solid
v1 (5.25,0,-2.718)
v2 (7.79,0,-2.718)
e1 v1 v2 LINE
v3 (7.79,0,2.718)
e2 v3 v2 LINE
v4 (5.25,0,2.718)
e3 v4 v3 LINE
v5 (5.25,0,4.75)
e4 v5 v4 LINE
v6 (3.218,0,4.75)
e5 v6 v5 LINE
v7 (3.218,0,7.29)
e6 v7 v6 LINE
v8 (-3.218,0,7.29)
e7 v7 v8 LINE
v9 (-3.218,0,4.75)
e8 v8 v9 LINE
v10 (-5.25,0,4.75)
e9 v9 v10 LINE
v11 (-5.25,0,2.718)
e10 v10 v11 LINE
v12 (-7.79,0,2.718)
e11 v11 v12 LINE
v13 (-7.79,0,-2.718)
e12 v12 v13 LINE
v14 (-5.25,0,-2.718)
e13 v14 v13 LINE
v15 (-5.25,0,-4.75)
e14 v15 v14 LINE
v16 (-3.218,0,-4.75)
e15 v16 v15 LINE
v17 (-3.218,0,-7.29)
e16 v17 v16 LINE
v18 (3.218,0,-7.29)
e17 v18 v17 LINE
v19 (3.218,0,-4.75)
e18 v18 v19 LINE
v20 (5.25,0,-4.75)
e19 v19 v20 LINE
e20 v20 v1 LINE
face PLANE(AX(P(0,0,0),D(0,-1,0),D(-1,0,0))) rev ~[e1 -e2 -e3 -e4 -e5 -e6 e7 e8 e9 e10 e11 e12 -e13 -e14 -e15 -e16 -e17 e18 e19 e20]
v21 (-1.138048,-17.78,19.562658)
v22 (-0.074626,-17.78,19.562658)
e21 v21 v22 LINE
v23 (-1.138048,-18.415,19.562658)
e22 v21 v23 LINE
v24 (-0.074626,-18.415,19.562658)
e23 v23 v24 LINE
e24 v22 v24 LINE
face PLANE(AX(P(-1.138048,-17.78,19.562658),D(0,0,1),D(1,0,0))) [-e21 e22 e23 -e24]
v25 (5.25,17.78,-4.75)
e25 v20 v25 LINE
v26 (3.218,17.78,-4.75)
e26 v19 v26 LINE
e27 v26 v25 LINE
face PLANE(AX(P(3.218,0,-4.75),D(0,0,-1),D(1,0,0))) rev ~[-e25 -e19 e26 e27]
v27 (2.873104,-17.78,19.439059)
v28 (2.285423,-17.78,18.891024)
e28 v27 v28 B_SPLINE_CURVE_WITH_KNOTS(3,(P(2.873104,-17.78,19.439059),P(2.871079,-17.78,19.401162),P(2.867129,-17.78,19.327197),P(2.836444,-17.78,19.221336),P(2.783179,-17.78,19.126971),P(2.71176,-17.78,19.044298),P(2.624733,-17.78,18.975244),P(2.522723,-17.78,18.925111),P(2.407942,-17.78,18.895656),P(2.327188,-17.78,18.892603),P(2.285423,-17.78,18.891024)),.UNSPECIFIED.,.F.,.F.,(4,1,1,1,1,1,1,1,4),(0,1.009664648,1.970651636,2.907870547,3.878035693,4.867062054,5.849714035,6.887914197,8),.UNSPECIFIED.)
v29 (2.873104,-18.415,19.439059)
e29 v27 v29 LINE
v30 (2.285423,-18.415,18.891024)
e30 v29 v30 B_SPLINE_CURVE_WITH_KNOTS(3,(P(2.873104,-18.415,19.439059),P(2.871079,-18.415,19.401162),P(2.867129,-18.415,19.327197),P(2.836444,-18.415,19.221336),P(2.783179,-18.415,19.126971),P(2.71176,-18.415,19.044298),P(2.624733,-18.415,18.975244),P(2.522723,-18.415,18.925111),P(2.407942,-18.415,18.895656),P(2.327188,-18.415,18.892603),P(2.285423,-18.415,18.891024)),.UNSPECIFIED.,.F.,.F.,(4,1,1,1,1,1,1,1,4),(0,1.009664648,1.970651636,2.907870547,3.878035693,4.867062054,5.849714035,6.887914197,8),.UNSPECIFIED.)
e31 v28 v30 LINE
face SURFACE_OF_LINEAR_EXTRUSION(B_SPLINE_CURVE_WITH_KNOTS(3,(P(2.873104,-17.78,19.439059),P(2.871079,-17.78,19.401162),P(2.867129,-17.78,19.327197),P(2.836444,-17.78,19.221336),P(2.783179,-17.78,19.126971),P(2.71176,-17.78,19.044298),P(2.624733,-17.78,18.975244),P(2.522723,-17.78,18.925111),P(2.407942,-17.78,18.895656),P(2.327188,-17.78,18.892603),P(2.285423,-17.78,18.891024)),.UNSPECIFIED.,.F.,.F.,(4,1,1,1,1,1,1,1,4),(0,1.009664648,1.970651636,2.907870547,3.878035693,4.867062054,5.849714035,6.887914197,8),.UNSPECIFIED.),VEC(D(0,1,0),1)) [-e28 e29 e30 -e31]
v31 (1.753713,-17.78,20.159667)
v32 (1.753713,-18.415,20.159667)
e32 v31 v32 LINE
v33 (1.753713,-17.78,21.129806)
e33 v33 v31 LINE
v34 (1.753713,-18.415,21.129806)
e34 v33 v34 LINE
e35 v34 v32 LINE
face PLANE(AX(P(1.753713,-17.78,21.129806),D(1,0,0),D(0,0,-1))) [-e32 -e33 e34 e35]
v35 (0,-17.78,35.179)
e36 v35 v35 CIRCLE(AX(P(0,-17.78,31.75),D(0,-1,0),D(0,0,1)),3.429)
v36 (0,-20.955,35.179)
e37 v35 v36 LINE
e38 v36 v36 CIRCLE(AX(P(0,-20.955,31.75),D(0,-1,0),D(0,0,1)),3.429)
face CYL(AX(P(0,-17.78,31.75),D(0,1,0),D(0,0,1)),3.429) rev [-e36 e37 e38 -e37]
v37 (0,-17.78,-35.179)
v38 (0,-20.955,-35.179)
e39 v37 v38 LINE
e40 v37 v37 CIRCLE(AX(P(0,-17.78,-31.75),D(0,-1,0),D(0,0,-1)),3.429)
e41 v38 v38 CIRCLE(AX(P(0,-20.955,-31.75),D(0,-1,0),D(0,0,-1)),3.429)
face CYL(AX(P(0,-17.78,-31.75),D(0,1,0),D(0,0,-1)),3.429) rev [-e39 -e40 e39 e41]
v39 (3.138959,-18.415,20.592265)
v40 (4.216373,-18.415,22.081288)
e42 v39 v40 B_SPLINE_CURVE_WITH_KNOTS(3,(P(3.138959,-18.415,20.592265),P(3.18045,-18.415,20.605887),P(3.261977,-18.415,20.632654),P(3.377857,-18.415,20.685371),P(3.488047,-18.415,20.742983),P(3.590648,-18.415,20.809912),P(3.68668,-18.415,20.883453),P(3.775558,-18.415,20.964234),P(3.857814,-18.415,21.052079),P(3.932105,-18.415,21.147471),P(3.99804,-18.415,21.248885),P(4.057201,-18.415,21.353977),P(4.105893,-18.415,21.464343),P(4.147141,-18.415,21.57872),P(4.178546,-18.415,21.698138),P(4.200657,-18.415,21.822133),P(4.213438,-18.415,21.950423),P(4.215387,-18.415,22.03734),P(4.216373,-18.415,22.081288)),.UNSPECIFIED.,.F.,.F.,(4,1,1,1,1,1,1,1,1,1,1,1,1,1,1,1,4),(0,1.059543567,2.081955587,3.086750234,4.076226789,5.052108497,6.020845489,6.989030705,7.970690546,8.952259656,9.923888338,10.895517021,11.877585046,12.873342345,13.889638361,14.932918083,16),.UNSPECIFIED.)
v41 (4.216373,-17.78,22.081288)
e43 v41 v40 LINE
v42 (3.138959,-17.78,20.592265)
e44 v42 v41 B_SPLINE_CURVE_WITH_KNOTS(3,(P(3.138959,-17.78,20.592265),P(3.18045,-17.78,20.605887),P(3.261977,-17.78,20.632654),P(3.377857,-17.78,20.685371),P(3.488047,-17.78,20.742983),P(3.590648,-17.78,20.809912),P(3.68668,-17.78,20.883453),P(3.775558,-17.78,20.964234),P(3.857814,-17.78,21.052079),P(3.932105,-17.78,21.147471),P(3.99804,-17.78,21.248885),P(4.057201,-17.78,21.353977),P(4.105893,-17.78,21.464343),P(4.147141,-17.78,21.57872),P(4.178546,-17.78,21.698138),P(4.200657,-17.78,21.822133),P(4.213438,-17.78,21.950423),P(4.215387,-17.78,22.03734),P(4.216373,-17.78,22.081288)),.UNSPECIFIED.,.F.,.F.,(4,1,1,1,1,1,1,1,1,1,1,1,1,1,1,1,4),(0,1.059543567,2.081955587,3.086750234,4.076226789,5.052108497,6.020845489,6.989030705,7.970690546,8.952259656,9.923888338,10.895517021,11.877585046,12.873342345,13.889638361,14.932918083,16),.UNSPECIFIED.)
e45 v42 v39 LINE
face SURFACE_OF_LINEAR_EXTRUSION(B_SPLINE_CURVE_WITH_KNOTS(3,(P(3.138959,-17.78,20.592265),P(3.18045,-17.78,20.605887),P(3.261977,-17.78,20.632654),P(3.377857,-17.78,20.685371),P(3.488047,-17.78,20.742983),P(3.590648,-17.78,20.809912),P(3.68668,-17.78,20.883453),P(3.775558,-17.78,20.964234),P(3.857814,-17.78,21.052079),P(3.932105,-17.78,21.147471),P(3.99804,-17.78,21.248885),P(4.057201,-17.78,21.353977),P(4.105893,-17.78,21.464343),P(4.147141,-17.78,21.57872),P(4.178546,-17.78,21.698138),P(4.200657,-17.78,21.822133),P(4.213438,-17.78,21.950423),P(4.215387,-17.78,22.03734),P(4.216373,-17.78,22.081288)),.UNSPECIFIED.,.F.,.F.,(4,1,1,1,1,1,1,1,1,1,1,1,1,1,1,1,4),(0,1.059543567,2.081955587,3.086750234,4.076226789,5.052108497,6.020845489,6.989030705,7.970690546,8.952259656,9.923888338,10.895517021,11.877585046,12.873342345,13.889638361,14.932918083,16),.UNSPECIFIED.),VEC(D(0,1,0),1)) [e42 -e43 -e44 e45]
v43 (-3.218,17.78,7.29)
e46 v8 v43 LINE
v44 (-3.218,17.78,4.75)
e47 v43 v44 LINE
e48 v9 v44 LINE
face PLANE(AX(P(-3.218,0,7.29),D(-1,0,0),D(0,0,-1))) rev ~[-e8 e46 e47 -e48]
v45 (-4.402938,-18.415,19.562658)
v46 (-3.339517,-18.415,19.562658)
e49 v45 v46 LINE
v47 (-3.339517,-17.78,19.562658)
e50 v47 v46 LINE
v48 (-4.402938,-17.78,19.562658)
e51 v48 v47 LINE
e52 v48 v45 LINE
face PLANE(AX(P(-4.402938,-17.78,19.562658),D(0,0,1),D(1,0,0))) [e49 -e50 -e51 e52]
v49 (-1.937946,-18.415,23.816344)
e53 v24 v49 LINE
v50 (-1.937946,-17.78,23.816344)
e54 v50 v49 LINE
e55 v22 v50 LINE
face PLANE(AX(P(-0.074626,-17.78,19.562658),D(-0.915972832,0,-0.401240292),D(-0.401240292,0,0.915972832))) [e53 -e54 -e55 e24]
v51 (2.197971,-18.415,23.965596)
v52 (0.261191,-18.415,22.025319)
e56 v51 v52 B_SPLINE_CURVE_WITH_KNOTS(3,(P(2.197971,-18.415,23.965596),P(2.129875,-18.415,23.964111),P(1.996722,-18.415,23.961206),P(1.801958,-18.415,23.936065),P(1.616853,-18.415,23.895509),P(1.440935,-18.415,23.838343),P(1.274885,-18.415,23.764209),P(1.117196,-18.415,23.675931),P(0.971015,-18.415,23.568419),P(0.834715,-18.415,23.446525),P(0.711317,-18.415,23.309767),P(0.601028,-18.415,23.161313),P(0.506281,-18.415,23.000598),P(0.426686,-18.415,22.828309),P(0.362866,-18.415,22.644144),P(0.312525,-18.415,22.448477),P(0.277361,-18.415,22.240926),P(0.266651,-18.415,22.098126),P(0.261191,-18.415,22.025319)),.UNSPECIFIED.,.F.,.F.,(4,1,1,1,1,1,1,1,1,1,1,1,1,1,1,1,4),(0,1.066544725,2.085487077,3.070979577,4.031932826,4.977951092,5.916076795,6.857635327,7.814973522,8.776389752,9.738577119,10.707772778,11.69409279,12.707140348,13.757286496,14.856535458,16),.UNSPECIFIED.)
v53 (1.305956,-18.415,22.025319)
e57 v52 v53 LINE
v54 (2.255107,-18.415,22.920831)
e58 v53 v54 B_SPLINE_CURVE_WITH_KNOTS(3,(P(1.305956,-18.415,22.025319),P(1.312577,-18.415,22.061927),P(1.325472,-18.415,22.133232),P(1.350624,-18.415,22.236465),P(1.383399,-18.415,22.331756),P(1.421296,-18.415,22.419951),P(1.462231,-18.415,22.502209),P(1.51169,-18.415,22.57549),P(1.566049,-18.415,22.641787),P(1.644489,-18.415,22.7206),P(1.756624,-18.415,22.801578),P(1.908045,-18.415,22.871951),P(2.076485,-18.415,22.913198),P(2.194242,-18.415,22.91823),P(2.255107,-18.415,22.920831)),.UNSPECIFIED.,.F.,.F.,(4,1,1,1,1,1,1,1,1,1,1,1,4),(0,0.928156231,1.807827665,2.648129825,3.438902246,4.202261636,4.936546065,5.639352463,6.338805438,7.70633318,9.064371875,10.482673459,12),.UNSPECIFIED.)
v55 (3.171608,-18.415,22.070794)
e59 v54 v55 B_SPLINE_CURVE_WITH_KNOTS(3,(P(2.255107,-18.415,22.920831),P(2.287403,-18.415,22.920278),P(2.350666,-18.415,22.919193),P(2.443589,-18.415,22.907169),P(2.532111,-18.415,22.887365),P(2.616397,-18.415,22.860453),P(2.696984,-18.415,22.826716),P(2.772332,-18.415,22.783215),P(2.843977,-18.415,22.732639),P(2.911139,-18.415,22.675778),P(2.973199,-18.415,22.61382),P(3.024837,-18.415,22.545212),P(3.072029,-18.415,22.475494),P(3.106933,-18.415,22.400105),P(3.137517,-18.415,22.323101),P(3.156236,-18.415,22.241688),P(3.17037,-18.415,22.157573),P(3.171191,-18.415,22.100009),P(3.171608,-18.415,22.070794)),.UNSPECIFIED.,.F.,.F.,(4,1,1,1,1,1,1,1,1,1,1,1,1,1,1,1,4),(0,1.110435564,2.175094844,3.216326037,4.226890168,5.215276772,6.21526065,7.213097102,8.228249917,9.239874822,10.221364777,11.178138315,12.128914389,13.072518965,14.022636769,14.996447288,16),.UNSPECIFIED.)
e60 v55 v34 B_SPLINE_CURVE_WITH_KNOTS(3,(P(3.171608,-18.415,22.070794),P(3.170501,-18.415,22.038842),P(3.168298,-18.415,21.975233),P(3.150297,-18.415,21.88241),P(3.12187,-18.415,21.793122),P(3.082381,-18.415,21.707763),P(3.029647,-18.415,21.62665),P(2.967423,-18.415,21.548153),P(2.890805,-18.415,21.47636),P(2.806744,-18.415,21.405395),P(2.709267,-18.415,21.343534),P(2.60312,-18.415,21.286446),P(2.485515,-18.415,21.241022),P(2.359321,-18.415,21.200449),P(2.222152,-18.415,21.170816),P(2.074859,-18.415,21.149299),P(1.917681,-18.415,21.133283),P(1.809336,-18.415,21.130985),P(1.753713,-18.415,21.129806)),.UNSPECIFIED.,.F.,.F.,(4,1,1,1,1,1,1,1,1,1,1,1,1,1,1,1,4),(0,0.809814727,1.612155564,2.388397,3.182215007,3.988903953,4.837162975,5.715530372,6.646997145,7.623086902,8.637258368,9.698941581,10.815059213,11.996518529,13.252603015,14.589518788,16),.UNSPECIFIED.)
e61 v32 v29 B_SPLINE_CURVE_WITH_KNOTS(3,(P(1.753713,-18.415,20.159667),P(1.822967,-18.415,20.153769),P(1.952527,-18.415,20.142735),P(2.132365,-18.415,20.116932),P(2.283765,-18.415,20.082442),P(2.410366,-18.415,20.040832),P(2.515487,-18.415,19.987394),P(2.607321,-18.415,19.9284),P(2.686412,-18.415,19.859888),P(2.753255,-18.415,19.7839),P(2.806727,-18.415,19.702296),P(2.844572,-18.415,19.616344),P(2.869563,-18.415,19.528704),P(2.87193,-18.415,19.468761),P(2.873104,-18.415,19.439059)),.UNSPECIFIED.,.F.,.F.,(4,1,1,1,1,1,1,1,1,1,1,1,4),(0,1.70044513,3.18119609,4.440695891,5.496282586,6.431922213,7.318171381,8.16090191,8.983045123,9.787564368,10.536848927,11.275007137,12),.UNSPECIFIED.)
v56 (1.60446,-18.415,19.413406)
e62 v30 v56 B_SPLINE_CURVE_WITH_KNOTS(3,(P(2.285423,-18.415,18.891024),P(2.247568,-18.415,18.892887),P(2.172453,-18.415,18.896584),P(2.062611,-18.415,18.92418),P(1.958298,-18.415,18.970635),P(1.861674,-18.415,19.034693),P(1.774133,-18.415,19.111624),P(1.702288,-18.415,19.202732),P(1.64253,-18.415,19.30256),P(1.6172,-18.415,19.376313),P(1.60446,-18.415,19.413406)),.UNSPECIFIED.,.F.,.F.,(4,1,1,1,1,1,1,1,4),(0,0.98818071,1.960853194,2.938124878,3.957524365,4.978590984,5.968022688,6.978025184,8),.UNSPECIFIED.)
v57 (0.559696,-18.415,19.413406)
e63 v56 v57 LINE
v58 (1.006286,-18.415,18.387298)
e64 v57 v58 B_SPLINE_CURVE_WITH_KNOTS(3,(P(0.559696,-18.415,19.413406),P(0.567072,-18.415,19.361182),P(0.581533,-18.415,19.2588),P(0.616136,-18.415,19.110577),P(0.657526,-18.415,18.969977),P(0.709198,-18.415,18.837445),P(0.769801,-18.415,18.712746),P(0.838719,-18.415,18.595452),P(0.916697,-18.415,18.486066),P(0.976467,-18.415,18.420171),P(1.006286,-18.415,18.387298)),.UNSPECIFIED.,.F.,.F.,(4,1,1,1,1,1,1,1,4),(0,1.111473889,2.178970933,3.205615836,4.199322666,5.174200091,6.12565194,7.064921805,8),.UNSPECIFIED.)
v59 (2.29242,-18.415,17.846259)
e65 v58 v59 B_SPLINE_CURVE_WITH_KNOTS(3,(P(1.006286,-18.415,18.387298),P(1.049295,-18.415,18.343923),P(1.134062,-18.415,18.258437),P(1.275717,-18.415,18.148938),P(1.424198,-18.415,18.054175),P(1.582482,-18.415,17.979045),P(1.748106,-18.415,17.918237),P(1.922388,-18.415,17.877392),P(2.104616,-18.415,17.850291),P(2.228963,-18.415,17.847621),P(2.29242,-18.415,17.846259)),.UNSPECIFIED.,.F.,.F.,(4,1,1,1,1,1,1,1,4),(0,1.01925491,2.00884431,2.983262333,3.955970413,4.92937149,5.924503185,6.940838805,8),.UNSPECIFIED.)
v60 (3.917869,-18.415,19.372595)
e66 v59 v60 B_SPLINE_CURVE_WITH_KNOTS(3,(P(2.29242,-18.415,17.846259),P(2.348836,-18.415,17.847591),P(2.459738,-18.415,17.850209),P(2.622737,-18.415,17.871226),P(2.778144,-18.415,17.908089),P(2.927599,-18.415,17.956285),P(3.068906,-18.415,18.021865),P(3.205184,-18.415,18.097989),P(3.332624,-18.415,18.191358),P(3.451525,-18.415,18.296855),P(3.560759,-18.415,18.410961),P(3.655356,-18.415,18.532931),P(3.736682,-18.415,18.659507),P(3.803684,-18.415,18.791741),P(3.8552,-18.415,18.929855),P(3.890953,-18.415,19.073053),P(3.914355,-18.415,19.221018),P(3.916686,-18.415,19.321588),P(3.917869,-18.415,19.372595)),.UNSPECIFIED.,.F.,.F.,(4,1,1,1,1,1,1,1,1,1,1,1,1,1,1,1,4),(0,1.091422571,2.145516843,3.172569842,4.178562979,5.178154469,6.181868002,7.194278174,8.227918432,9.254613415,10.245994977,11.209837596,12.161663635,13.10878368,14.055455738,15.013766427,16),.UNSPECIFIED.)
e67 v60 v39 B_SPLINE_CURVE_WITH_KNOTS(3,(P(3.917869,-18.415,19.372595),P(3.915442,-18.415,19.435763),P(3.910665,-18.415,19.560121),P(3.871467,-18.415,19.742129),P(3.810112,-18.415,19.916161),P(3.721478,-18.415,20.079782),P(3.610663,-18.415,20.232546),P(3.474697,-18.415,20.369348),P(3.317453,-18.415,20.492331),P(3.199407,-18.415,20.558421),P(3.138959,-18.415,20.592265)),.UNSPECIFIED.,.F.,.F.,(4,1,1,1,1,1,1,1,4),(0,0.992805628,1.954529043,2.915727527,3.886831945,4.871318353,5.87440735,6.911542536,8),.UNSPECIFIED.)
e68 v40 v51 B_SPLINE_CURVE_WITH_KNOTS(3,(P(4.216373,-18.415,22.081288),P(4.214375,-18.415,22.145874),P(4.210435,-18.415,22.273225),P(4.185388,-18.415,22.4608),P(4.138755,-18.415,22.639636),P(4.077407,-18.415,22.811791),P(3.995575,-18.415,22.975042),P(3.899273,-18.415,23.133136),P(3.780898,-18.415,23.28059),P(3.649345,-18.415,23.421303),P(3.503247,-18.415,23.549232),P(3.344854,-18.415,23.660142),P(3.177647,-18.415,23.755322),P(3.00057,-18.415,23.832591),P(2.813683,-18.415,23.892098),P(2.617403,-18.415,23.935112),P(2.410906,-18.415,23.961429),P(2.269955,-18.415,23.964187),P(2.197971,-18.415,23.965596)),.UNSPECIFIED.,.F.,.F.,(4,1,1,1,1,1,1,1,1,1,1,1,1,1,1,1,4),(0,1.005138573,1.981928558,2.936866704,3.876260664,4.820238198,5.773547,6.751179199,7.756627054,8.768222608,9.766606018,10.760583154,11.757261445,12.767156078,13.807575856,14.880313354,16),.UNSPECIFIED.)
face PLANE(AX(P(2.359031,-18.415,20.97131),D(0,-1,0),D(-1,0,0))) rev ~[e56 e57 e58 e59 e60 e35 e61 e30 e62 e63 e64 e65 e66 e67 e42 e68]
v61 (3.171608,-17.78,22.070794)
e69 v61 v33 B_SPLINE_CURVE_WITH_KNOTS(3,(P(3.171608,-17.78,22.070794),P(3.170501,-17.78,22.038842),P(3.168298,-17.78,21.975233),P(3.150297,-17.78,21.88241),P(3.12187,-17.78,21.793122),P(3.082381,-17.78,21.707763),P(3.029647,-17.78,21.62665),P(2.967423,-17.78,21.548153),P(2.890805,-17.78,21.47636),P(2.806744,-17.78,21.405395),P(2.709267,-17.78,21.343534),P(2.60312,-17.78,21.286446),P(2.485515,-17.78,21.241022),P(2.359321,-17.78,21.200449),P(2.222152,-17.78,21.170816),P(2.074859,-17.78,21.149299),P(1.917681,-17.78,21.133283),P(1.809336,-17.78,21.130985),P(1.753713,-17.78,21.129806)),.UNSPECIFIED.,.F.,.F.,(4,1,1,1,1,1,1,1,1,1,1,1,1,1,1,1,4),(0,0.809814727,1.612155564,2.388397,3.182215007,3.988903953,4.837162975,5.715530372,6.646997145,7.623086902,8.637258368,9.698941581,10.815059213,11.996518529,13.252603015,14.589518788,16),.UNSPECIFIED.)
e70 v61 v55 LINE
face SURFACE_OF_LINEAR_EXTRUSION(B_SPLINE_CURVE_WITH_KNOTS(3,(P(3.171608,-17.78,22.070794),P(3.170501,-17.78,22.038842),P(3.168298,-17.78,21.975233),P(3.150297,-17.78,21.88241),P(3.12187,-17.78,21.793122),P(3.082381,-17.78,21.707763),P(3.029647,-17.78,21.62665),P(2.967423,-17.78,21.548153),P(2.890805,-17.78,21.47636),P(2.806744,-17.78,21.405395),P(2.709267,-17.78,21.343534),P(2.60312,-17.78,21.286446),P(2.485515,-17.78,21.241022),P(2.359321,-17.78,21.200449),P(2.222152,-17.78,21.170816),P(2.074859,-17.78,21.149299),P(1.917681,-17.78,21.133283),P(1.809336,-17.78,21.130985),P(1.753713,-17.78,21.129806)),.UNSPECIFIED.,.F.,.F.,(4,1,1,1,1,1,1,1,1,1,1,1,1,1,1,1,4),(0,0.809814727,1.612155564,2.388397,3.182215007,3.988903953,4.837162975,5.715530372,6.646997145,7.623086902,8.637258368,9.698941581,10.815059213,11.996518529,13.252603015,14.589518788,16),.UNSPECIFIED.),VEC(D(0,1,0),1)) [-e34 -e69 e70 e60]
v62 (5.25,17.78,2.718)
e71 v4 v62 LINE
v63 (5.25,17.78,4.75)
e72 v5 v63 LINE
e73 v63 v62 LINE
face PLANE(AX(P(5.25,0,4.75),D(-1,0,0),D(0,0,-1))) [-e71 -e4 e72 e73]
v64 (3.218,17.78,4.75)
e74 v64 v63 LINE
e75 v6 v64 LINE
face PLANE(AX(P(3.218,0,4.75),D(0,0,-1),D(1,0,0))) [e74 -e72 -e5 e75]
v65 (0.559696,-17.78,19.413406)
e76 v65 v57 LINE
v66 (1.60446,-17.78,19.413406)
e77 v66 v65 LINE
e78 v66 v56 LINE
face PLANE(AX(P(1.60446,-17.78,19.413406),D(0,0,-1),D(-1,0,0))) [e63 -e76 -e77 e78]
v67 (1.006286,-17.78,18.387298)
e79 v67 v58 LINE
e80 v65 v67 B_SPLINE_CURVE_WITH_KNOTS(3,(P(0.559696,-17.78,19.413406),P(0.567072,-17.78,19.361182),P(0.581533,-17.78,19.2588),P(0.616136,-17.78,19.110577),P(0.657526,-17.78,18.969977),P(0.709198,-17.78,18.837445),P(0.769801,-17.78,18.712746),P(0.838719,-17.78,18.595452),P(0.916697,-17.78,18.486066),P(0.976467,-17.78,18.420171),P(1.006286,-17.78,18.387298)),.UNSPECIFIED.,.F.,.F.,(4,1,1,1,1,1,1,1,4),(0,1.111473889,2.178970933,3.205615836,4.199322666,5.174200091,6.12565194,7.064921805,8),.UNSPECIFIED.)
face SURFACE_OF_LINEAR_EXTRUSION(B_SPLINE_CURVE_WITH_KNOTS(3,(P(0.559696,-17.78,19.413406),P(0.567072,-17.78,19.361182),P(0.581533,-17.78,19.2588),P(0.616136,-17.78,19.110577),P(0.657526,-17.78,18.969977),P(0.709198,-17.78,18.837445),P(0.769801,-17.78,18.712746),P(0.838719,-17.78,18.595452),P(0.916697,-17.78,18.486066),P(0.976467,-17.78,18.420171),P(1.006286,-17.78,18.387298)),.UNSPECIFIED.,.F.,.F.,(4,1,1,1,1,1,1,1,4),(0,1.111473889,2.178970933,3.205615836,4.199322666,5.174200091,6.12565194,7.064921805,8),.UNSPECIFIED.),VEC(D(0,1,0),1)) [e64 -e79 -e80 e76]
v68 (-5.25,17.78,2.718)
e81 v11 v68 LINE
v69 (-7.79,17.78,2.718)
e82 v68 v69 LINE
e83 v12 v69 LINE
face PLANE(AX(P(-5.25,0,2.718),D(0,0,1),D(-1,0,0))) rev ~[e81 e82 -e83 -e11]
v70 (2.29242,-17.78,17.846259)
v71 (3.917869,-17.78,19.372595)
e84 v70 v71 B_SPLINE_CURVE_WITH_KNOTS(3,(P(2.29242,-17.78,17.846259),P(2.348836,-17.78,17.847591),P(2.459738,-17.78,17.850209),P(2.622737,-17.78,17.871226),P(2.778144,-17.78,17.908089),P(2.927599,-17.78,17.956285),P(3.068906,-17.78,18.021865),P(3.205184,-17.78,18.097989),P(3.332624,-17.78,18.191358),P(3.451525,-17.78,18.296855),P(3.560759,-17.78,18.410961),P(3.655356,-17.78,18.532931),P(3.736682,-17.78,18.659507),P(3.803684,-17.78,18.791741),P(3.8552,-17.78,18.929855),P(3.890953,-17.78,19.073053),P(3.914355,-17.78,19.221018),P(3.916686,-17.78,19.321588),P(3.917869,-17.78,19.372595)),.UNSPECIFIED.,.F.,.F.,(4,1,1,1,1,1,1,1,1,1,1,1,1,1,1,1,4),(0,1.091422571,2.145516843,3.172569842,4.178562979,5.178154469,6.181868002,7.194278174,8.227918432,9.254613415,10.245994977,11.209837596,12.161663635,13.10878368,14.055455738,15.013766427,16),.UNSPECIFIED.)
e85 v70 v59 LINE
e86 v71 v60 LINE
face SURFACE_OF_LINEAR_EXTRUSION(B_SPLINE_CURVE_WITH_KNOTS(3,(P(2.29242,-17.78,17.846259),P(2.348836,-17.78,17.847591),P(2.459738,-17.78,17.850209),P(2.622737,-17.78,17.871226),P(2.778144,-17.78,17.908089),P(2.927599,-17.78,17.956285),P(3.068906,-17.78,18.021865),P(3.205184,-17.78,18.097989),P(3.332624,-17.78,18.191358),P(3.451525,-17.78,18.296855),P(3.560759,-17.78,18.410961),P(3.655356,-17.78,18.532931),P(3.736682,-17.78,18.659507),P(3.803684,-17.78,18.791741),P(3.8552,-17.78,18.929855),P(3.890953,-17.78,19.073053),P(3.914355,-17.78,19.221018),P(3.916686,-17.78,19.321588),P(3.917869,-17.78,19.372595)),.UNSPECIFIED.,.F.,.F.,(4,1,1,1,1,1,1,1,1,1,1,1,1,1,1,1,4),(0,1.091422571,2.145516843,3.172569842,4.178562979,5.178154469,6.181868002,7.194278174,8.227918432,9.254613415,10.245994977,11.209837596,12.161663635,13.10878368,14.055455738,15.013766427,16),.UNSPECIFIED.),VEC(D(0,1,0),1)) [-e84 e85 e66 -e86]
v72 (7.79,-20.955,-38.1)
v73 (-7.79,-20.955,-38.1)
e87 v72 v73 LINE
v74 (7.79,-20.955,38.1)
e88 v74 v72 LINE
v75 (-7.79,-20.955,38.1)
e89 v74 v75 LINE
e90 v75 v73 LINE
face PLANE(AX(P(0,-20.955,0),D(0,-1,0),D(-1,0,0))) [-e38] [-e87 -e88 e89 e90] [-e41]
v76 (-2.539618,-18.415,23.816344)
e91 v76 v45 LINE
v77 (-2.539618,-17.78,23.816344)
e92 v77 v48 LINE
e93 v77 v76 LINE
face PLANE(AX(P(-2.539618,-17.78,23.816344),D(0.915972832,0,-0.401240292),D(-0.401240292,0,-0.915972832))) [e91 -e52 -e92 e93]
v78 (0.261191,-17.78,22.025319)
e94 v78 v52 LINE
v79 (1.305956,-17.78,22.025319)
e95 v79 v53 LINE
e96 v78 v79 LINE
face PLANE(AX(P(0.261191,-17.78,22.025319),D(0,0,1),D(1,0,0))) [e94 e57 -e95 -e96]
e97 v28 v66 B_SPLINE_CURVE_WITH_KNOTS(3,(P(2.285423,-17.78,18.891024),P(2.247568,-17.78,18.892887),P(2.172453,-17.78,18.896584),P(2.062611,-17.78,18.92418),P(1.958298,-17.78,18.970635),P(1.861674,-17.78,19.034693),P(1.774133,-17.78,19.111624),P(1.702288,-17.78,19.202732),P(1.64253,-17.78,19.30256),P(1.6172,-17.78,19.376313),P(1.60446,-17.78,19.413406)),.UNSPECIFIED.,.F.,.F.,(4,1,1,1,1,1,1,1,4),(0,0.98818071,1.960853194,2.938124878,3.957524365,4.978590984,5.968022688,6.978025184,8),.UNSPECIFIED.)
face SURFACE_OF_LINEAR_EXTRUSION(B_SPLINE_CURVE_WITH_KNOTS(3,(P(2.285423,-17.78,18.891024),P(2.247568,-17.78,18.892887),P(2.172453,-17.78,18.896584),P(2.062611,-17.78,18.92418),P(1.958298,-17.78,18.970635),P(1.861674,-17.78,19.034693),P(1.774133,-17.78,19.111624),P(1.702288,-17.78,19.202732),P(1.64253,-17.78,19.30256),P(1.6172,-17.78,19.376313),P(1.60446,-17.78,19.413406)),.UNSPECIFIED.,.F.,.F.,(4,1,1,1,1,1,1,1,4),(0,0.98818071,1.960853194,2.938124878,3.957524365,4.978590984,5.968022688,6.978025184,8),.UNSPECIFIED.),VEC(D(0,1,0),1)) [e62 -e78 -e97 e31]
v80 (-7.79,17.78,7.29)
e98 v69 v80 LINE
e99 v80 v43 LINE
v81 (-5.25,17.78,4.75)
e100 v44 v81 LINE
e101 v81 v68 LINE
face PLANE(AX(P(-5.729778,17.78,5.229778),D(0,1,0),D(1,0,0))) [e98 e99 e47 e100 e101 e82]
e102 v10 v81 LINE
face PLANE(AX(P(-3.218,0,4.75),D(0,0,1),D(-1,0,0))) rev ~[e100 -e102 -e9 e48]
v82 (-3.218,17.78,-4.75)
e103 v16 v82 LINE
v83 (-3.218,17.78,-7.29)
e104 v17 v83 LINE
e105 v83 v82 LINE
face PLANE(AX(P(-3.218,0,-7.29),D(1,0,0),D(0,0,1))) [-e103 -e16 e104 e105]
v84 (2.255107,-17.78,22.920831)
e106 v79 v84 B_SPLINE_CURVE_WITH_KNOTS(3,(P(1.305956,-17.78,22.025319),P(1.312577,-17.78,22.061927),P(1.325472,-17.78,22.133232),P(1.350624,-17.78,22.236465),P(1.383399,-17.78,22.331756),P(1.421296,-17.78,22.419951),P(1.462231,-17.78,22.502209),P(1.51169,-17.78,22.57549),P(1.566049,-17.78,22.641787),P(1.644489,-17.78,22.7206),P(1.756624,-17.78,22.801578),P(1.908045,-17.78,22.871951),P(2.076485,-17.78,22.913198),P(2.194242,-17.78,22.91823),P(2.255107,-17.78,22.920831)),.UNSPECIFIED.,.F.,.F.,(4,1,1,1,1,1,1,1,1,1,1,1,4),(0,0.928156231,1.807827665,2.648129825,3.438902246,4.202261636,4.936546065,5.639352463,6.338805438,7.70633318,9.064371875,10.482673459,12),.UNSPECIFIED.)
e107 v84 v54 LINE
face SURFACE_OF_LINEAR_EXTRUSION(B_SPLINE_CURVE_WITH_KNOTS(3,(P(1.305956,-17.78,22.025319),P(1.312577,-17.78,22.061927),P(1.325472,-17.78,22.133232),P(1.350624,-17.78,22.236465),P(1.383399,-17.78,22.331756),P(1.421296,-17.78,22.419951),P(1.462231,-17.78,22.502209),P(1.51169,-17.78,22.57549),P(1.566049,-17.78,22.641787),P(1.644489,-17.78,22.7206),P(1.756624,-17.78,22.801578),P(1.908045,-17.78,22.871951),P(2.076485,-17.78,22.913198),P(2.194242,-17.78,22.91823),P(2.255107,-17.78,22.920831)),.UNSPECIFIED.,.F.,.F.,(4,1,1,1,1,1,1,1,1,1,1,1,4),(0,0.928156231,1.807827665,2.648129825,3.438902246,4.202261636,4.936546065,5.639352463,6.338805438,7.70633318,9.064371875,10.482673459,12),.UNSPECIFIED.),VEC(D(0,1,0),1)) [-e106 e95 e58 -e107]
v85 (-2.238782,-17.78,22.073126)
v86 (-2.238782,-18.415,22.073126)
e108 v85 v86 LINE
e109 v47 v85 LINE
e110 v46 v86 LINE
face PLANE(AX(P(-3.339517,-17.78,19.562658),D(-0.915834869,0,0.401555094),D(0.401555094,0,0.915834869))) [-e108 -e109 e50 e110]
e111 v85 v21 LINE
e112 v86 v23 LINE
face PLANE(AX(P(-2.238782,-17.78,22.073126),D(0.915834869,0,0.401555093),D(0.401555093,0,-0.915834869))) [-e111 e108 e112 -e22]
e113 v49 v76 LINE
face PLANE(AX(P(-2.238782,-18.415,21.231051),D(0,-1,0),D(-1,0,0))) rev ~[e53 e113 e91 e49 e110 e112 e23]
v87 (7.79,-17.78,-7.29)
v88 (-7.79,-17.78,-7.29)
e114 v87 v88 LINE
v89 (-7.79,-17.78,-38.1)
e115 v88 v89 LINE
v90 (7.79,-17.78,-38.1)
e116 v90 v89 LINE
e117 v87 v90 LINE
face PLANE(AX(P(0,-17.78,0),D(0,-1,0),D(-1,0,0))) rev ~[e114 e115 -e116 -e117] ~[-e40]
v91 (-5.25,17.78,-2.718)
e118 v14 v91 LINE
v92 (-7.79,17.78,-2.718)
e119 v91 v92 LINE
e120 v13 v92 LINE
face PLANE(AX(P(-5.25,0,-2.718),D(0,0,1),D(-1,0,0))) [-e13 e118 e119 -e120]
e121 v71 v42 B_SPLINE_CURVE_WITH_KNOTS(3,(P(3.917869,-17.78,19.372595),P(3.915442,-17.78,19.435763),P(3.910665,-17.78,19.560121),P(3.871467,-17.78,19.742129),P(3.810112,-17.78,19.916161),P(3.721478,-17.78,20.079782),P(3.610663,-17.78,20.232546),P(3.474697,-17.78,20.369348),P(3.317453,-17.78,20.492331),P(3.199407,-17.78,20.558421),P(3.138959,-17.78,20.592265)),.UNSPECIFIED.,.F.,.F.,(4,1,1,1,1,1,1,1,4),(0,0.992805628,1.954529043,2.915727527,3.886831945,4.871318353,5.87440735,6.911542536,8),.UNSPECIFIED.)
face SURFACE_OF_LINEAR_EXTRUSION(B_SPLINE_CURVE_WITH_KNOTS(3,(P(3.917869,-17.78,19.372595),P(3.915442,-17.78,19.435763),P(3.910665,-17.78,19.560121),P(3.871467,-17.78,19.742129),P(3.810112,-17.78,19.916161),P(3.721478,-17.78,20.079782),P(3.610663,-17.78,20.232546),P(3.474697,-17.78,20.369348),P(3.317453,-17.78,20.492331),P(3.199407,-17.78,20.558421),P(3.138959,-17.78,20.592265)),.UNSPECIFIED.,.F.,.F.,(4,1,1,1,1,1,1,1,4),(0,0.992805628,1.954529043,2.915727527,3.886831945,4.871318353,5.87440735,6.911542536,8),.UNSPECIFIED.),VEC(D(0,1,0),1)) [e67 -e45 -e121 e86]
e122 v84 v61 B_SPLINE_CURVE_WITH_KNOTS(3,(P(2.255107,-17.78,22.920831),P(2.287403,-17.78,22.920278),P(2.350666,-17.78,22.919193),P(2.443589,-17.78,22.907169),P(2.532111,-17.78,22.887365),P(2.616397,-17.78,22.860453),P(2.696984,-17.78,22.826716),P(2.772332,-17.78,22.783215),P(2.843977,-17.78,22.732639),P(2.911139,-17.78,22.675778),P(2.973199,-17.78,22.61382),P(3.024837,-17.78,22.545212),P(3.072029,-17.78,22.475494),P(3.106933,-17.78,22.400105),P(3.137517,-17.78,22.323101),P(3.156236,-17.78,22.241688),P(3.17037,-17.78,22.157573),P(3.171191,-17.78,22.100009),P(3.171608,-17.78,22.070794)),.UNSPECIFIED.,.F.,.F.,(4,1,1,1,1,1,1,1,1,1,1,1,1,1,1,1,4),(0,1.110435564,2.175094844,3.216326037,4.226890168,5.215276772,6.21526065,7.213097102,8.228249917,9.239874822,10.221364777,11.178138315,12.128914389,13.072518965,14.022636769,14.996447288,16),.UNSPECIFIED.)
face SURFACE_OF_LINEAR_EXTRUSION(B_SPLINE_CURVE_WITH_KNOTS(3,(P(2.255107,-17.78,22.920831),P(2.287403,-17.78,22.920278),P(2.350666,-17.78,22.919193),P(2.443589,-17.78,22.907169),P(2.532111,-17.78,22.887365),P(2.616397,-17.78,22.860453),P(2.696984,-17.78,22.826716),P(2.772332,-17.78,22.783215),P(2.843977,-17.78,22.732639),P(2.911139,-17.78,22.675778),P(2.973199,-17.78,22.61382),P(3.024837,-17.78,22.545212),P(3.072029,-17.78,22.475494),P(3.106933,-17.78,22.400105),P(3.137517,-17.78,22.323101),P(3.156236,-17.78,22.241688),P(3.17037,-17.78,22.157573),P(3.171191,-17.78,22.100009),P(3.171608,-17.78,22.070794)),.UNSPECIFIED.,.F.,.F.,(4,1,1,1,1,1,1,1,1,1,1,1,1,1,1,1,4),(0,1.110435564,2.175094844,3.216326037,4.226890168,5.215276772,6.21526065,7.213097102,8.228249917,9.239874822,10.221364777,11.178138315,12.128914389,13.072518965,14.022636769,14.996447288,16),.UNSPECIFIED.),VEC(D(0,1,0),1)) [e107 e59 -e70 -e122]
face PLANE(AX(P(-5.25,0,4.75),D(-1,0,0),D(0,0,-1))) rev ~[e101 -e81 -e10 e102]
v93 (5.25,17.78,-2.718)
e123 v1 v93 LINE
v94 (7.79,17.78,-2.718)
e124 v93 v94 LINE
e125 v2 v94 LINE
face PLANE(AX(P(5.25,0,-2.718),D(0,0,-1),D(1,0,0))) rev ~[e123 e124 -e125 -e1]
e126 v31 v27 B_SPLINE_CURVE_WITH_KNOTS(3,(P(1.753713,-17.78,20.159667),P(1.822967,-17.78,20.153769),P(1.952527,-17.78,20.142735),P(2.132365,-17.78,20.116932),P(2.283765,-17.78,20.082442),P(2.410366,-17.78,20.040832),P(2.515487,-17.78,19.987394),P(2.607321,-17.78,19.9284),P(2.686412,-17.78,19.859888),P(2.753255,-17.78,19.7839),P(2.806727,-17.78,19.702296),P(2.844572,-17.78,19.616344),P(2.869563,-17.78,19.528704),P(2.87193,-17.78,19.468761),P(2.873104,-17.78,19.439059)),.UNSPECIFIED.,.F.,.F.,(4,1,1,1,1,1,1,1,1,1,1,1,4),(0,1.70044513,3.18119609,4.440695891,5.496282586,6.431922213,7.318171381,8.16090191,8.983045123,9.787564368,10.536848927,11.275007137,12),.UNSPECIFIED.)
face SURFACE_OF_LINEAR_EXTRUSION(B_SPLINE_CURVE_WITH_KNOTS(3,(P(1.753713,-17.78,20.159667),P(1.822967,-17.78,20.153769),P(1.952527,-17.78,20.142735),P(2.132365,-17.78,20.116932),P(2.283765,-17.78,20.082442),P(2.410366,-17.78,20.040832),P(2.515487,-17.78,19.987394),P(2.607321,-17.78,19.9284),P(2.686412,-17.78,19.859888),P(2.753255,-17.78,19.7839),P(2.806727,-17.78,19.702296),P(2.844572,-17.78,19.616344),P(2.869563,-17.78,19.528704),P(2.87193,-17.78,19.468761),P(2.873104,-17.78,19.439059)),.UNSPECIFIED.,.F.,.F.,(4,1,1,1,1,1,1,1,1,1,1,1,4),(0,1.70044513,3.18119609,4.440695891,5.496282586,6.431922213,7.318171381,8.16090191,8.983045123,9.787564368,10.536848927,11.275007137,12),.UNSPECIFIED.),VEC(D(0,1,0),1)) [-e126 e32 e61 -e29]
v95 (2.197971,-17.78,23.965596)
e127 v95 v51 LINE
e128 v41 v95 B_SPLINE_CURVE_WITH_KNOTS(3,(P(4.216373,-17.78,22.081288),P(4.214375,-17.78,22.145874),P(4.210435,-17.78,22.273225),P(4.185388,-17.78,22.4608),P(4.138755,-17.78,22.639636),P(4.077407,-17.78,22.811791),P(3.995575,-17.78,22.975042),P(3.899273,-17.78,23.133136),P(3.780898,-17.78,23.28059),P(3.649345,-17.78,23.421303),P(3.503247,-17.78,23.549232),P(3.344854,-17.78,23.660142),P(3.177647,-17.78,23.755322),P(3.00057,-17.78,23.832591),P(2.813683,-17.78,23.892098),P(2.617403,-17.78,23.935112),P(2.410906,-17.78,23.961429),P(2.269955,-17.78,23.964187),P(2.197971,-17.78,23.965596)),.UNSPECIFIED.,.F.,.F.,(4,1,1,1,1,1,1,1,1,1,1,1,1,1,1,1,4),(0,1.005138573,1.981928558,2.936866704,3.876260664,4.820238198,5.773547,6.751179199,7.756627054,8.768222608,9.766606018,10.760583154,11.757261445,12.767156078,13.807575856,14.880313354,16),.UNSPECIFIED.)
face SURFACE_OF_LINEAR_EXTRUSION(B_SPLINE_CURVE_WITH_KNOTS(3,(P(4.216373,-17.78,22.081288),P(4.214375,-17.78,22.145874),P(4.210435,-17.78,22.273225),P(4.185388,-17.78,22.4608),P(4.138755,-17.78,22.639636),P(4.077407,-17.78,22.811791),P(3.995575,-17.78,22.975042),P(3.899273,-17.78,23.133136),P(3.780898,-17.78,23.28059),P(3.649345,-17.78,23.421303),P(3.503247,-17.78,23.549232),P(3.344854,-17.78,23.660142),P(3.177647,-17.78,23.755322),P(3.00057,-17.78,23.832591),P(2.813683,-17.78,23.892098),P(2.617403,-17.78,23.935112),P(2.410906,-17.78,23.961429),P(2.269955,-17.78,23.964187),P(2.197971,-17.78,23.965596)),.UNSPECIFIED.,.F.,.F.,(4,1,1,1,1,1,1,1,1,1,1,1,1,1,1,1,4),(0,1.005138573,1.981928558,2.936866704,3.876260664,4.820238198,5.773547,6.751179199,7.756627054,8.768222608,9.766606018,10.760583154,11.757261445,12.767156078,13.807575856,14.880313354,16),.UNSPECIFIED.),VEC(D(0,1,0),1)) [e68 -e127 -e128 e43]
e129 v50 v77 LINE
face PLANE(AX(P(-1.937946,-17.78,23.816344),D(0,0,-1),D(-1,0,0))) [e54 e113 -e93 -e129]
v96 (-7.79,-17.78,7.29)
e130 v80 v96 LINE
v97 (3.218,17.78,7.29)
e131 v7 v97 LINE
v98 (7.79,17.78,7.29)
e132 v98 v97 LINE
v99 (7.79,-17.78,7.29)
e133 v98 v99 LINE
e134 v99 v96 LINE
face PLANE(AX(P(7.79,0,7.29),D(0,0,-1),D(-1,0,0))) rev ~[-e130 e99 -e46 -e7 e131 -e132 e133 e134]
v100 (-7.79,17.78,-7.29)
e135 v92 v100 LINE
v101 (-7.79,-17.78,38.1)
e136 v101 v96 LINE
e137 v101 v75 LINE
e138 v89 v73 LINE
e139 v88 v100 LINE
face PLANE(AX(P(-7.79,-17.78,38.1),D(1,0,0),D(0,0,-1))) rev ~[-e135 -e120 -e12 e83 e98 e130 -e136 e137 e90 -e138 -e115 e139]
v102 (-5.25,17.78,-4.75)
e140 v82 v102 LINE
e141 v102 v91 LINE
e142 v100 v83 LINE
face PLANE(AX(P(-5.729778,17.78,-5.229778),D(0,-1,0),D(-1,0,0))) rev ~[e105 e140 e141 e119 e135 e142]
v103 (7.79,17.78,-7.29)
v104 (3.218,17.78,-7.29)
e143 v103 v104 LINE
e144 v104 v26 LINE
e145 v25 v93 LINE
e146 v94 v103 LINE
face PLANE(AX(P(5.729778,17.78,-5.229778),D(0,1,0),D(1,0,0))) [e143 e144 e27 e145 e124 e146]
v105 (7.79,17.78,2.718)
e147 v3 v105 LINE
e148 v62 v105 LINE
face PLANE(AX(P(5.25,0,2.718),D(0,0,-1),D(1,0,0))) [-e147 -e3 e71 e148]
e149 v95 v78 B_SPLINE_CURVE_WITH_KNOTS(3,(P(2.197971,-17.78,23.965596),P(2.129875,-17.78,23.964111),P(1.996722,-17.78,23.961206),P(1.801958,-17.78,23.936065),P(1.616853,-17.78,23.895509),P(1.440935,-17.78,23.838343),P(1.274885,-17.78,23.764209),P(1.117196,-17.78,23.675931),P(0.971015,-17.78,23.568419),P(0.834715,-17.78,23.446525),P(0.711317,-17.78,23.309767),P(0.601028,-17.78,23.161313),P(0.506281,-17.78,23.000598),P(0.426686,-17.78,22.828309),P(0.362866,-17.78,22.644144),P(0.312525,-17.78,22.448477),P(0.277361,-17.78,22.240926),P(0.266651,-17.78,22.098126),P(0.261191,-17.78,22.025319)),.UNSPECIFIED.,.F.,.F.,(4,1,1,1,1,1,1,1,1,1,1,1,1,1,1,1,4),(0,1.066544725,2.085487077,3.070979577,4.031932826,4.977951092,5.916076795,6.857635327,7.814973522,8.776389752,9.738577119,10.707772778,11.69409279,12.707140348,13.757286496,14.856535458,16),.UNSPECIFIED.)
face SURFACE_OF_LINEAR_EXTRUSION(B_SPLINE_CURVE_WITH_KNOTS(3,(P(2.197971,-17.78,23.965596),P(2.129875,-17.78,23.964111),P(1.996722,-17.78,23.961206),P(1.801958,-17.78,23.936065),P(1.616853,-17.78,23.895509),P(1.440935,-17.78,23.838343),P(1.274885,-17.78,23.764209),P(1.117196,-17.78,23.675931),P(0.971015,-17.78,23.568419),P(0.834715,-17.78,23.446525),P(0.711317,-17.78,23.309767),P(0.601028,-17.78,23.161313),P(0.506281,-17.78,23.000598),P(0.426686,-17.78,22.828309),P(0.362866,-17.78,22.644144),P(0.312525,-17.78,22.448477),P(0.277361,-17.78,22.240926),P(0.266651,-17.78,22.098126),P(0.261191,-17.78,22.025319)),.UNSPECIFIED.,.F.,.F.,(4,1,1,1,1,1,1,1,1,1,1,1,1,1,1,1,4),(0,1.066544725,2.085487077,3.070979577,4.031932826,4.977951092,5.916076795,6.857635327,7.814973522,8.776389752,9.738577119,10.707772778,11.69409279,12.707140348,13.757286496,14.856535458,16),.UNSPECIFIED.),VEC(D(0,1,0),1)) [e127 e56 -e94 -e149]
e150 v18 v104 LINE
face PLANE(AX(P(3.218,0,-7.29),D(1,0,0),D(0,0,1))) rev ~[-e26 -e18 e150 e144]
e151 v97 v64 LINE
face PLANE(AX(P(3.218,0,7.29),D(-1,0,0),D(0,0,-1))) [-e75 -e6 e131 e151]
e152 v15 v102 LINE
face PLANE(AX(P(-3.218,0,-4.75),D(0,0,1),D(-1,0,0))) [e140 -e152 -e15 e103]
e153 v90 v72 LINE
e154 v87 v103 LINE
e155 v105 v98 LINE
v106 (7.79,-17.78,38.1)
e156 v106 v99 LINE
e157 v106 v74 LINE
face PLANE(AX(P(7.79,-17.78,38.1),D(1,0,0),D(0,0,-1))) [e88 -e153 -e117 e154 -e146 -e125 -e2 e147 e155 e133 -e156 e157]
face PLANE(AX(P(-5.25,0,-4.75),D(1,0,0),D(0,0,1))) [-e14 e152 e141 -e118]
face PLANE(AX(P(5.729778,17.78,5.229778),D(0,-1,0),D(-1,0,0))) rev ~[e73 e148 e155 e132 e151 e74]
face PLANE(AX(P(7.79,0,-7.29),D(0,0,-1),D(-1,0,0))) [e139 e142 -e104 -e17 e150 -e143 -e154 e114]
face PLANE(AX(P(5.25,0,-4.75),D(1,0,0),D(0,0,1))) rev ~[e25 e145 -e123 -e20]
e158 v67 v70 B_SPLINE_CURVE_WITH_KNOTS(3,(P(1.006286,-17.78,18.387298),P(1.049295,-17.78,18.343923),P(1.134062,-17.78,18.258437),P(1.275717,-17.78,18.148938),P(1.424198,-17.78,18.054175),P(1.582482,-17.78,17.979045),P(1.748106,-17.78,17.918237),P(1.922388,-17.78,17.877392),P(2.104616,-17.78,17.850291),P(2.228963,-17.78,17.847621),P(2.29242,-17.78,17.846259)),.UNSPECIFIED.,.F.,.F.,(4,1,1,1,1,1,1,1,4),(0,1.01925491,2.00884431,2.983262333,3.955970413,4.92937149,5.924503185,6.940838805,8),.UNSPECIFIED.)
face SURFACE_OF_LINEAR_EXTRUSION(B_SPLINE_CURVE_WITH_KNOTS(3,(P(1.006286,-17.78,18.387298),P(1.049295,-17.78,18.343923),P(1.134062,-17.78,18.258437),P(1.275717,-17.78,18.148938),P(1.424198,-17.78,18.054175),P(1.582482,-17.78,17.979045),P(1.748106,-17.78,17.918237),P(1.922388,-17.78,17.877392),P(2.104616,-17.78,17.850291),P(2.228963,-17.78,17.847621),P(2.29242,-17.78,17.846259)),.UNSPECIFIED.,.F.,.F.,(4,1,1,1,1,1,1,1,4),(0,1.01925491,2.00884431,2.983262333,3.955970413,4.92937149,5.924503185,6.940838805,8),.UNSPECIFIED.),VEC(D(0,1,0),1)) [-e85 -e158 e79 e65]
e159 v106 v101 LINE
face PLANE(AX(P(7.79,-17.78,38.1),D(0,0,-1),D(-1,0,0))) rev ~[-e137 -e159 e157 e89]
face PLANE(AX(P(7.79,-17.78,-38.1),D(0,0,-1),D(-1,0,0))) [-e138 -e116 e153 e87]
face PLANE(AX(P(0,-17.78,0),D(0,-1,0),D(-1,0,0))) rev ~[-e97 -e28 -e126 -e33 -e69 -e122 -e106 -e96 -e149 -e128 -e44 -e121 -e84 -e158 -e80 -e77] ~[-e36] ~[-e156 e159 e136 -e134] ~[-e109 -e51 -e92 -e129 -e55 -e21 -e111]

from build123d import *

# Parameters (mm, degrees)
BOSS_EXTRUDE1_DEPTH   = 17.78
BOSS_EXTRUDE1_2_DEPTH = 17.78
BOSS_EXTRUDE1_3_DEPTH = 17.78
BOSS_EXTRUDE1_4_DEPTH = 17.78
SKETCH2_W             = 15.58
SKETCH2_H             = 14.58
BOSS_EXTRUDE2_DEPTH   = 17.78
SKETCH3_W             = 15.58
SKETCH3_H             = 76.2
SKETCH3_R             = 3.429
BOSS_EXTRUDE3_DEPTH   = 3.175
CUT_EXTRUDE3_DEPTH    = 0.635


with BuildPart() as part:
    # Sketch1 → Boss-Extrude1 (new body)
    with BuildSketch(Plane(origin=(0, 0, 0), x_dir=(1, 0, 0), z_dir=(0, 1, 0))):
        Polygon((-5.25, 4.75), (-5.25, 2.718), (-7.79, 2.718), (-7.79, 7.29), (-3.218, 7.29), (-3.218, 4.75), align=None)
    extrude(amount=BOSS_EXTRUDE1_DEPTH)



with BuildPart() as body_2:
    # Sketch1 → Boss-Extrude1 2 (new body)
    with BuildSketch(Plane(origin=(0, 0, 0), x_dir=(1, 0, 0), z_dir=(0, 1, 0))):
        Polygon((7.79, 2.718), (7.79, 7.29), (3.218, 7.29), (3.218, 4.75), (5.25, 4.75), (5.25, 2.718), align=None)
    extrude(amount=BOSS_EXTRUDE1_2_DEPTH)


with BuildPart() as body_3:
    # Sketch1 → Boss-Extrude1 3 (new body)
    with BuildSketch(Plane(origin=(0, 0, 0), x_dir=(1, 0, 0), z_dir=(0, 1, 0))):
        Polygon((5.25, -2.718), (7.79, -2.718), (7.79, -7.29), (3.218, -7.29), (3.218, -4.75), (5.25, -4.75), align=None)
    extrude(amount=BOSS_EXTRUDE1_3_DEPTH)


with BuildPart() as body_4:
    # Sketch1 → Boss-Extrude1 4 (new body)
    with BuildSketch(Plane(origin=(0, 0, 0), x_dir=(1, 0, 0), z_dir=(0, 1, 0))):
        Polygon((-5.25, -2.718), (-7.79, -2.718), (-7.79, -7.29), (-3.218, -7.29), (-3.218, -4.75), (-5.25, -4.75), align=None)
    extrude(amount=BOSS_EXTRUDE1_4_DEPTH)


with BuildPart() as part_1:
    add(part.part)

    add(body_2.part)  # Boss-Extrude2 merges body 2

    add(body_3.part)  # Boss-Extrude2 merges body 3

    add(body_4.part)  # Boss-Extrude2 merges body 4
    # Sketch2 → Boss-Extrude2 (add)
    with BuildSketch(Plane(origin=(0, 0, 0), x_dir=(-1, 0, 0), z_dir=(0, -1, 0))):
        Rectangle(SKETCH2_W, SKETCH2_H)
    extrude(amount=BOSS_EXTRUDE2_DEPTH)

    # Sketch3 → Boss-Extrude3 (add)
    with BuildSketch(Plane(origin=(0, -17.78, 0), x_dir=(-1, 0, 0), z_dir=(0, -1, 0))):
        Rectangle(SKETCH3_W, SKETCH3_H)
        with Locations(Location((0, 31.75, 0), (0, 0, 90))):
            Circle(SKETCH3_R, mode=Mode.SUBTRACT)
        with Locations(Location((0, -31.75, 0), (0, 0, 270))):
            Circle(SKETCH3_R, mode=Mode.SUBTRACT)
    extrude(amount=BOSS_EXTRUDE3_DEPTH)

    # Sketch5 → Cut-Extrude3 (cut)
    with BuildSketch(Plane(origin=(0, -17.78, 0), x_dir=(1, 0, 0), z_dir=(0, 1, 0))):
        Polygon((-4.402938034, -19.56265828), (-3.33951656, -19.56265828), (-2.238782051, -22.073125862), (-1.138047543, -19.56265828), (-0.074626068, -19.56265828), (-1.937945713, -23.816344178), (-2.539618389, -23.816344178), align=None)
        with BuildLine():
            Line((1.60446047, -19.413406143), (0.559695513, -19.413406143))
            add(Edge.make_bspline(
                [(0.559695513, -19.413406143), (0.567071951, -19.36118207), (0.581532969, -19.258800234), (0.616136251, -19.110576841), (0.65752551, -18.969976808), (0.709197886, -18.837445387), (0.769801176, -18.712746497), (0.838719113, -18.59545223), (0.916696725, -18.486066037), (0.976467391, -18.42017136), (1.006285891, -18.387297703)],
                knots=[0, 0, 0, 0, 1.111473889, 2.178970933, 3.205615836, 4.199322666, 5.174200091, 6.12565194, 7.064921805, 8, 8, 8, 8], degree=3))
            add(Edge.make_bspline(
                [(1.006285891, -18.387297703), (1.049295125, -18.343923295), (1.134061806, -18.258436894), (1.275716871, -18.148938257), (1.424197539, -18.054174633), (1.582481657, -17.979045347), (1.748106202, -17.918236894), (1.922388279, -17.877391718), (2.104615709, -17.850290583), (2.228963005, -17.847621027), (2.292419538, -17.846258707)],
                knots=[0, 0, 0, 0, 1.01925491, 2.00884431, 2.983262333, 3.955970413, 4.92937149, 5.924503185, 6.940838805, 8, 8, 8, 8], degree=3))
            add(Edge.make_bspline(
                [(2.292419538, -17.846258707), (2.34883566, -17.847590582), (2.459738389, -17.850208778), (2.622737494, -17.871226235), (2.778143501, -17.908088515), (2.927599095, -17.956285119), (3.068906271, -18.021864654), (3.205183817, -18.097988535), (3.332624133, -18.19135764), (3.451525404, -18.296855331), (3.5607589, -18.410961412), (3.655355585, -18.532931428), (3.736682053, -18.65950728), (3.803684306, -18.791740573), (3.855199933, -18.929855061), (3.890953306, -19.073052878), (3.914354757, -19.221018044), (3.916686153, -19.321587975), (3.91786859, -19.372595012)],
                knots=[0, 0, 0, 0, 1.091422571, 2.145516843, 3.172569842, 4.178562979, 5.178154469, 6.181868002, 7.194278174, 8.227918432, 9.254613415, 10.245994977, 11.209837596, 12.161663635, 13.10878368, 14.055455738, 15.013766427, 16, 16, 16, 16], degree=3))
            add(Edge.make_bspline(
                [(3.91786859, -19.372595012), (3.915442158, -19.435762981), (3.910665261, -19.56012129), (3.871467362, -19.742128915), (3.810111989, -19.916160685), (3.721478187, -20.079781634), (3.610663359, -20.232546477), (3.474697276, -20.369347828), (3.317452606, -20.492330546), (3.199406937, -20.558421473), (3.138959001, -20.592264817)],
                knots=[0, 0, 0, 0, 0.992805628, 1.954529043, 2.915727527, 3.886831945, 4.871318353, 5.87440735, 6.911542536, 8, 8, 8, 8], degree=3))
            add(Edge.make_bspline(
                [(3.138959001, -20.592264817), (3.180449537, -20.605887034), (3.26197658, -20.632654079), (3.377857468, -20.68537147), (3.488046952, -20.742982841), (3.590647607, -20.809912067), (3.686679921, -20.883452827), (3.775558471, -20.964233774), (3.857814283, -21.052078768), (3.932104567, -21.147470922), (3.998040097, -21.248884626), (4.057200536, -21.353977283), (4.105892876, -21.464342641), (4.14714135, -21.578720254), (4.178545589, -21.698138088), (4.20065698, -21.822133409), (4.213437907, -21.950423374), (4.215387216, -22.037339748), (4.216372863, -22.081288088)],
                knots=[0, 0, 0, 0, 1.059543567, 2.081955587, 3.086750234, 4.076226789, 5.052108497, 6.020845489, 6.989030705, 7.970690546, 8.952259656, 9.923888338, 10.895517021, 11.877585046, 12.873342345, 13.889638361, 14.932918083, 16, 16, 16, 16], degree=3))
            add(Edge.make_bspline(
                [(4.216372863, -22.081288088), (4.214374823, -22.145874304), (4.210435096, -22.273225169), (4.18538815, -22.460799959), (4.13875525, -22.639635857), (4.077407087, -22.811790639), (3.995575297, -22.975041849), (3.899273036, -23.13313588), (3.780898209, -23.280590074), (3.649344914, -23.421302739), (3.503247311, -23.549232393), (3.344853741, -23.660141646), (3.177647143, -23.755321519), (3.00056965, -23.832591251), (2.81368278, -23.892097783), (2.61740309, -23.935111847), (2.410905865, -23.961428562), (2.269955352, -23.964187371), (2.19797092, -23.965596314)],
                knots=[0, 0, 0, 0, 1.005138573, 1.981928558, 2.936866704, 3.876260664, 4.820238198, 5.773547, 6.751179199, 7.756627054, 8.768222608, 9.766606018, 10.760583154, 11.757261445, 12.767156078, 13.807575856, 14.880313354, 16, 16, 16, 16], degree=3))
            add(Edge.make_bspline(
                [(2.19797092, -23.965596314), (2.129874809, -23.964110822), (1.996721873, -23.961206138), (1.801957838, -23.936064626), (1.616853058, -23.895509328), (1.440935143, -23.838343272), (1.274884705, -23.764208666), (1.117195935, -23.675930985), (0.971015477, -23.568418577), (0.834714593, -23.446524755), (0.711316847, -23.309766808), (0.601028322, -23.161312666), (0.506280899, -23.000597819), (0.426686017, -22.828308906), (0.362865929, -22.644143683), (0.31252483, -22.448476657), (0.277360749, -22.240925557), (0.266651455, -22.098125985), (0.261191239, -22.025318537)],
                knots=[0, 0, 0, 0, 1.066544725, 2.085487077, 3.070979577, 4.031932826, 4.977951092, 5.916076795, 6.857635327, 7.814973522, 8.776389752, 9.738577119, 10.707772778, 11.69409279, 12.707140348, 13.757286496, 14.856535458, 16, 16, 16, 16], degree=3))
            Line((0.261191239, -22.025318537), (1.305956197, -22.025318537))
            add(Edge.make_bspline(
                [(1.305956197, -22.025318537), (1.312576763, -22.061927077), (1.325472053, -22.133231811), (1.350623524, -22.236465214), (1.383399401, -22.331756021), (1.421296469, -22.419951174), (1.462231007, -22.502208645), (1.511689719, -22.575490462), (1.566048529, -22.641786528), (1.644488688, -22.72060002), (1.756624298, -22.801577594), (1.908044521, -22.871950958), (2.076485181, -22.913198395), (2.194242, -22.918230456), (2.255106504, -22.920831357)],
                knots=[0, 0, 0, 0, 0.928156231, 1.807827665, 2.648129825, 3.438902246, 4.202261636, 4.936546065, 5.639352463, 6.338805438, 7.70633318, 9.064371875, 10.482673459, 12, 12, 12, 12], degree=3))
            add(Edge.make_bspline(
                [(2.255106504, -22.920831357), (2.287403361, -22.92027752), (2.350665678, -22.919192676), (2.443588602, -22.907168637), (2.53211077, -22.887365035), (2.616397061, -22.860452674), (2.696984046, -22.826716347), (2.772332028, -22.783215372), (2.84397679, -22.732639278), (2.911139487, -22.675778323), (2.973199203, -22.613820236), (3.024836536, -22.545212181), (3.072029323, -22.475494135), (3.106933447, -22.400104897), (3.13751698, -22.323101214), (3.156235665, -22.241688093), (3.170369616, -22.157573363), (3.171191024, -22.100008934), (3.171607906, -22.070793797)],
                knots=[0, 0, 0, 0, 1.110435564, 2.175094844, 3.216326037, 4.226890168, 5.215276772, 6.21526065, 7.213097102, 8.228249917, 9.239874822, 10.221364777, 11.178138315, 12.128914389, 13.072518965, 14.022636769, 14.996447288, 16, 16, 16, 16], degree=3))
            add(Edge.make_bspline(
                [(3.171607906, -22.070793797), (3.170501163, -22.038842067), (3.168297891, -21.975233493), (3.150296928, -21.882410155), (3.121869603, -21.793121585), (3.082380576, -21.707763195), (3.029647382, -21.626649598), (2.9674228, -21.548153411), (2.890804565, -21.47636022), (2.806744099, -21.405394826), (2.709266982, -21.343534406), (2.603120486, -21.286446328), (2.485514916, -21.241021842), (2.35932113, -21.200449362), (2.222152054, -21.170815853), (2.074859456, -21.149299038), (1.917680943, -21.133283103), (1.809335751, -21.130985354), (1.753712607, -21.129805716)],
                knots=[0, 0, 0, 0, 0.809814727, 1.612155564, 2.388397, 3.182215007, 3.988903953, 4.837162975, 5.715530372, 6.646997145, 7.623086902, 8.637258368, 9.698941581, 10.815059213, 11.996518529, 13.252603015, 14.589518788, 16, 16, 16, 16], degree=3))
            Line((1.753712607, -21.129805716), (1.753712607, -20.159666827))
            add(Edge.make_bspline(
                [(1.753712607, -20.159666827), (1.822966729, -20.153768925), (1.952527477, -20.142735117), (2.132364742, -20.116932174), (2.283764537, -20.082442292), (2.410365759, -20.040832116), (2.515487302, -19.98739381), (2.607320901, -19.92840028), (2.686412341, -19.859887916), (2.753255217, -19.783899748), (2.806727438, -19.702295581), (2.844571961, -19.616343786), (2.869562507, -19.528703818), (2.871930359, -19.468760721), (2.873103632, -19.439058854)],
                knots=[0, 0, 0, 0, 1.70044513, 3.18119609, 4.440695891, 5.496282586, 6.431922213, 7.318171381, 8.16090191, 8.983045123, 9.787564368, 10.536848927, 11.275007137, 12, 12, 12, 12], degree=3))
            add(Edge.make_bspline(
                [(2.873103632, -19.439058854), (2.8710794, -19.401162498), (2.867128528, -19.327196833), (2.83644391, -19.221336386), (2.783178889, -19.126970571), (2.71175985, -19.044297961), (2.624733268, -18.975243601), (2.522722857, -18.925111313), (2.40794225, -18.895656355), (2.327187908, -18.892602868), (2.285423344, -18.891023665)],
                knots=[0, 0, 0, 0, 1.009664648, 1.970651636, 2.907870547, 3.878035693, 4.867062054, 5.849714035, 6.887914197, 8, 8, 8, 8], degree=3))
            add(Edge.make_bspline(
                [(2.285423344, -18.891023665), (2.247568462, -18.892886959), (2.172452782, -18.896584305), (2.062611175, -18.924180317), (1.958298243, -18.970634769), (1.861674014, -19.03469272), (1.774133277, -19.111623605), (1.702287588, -19.202732269), (1.642529751, -19.302560235), (1.617199978, -19.376312658), (1.60446047, -19.413406143)],
                knots=[0, 0, 0, 0, 0.98818071, 1.960853194, 2.938124878, 3.957524365, 4.978590984, 5.968022688, 6.978025184, 8, 8, 8, 8], degree=3))
        make_face()
    extrude(amount=-CUT_EXTRUDE3_DEPTH, mode=Mode.SUBTRACT)


solid = part_1.part
